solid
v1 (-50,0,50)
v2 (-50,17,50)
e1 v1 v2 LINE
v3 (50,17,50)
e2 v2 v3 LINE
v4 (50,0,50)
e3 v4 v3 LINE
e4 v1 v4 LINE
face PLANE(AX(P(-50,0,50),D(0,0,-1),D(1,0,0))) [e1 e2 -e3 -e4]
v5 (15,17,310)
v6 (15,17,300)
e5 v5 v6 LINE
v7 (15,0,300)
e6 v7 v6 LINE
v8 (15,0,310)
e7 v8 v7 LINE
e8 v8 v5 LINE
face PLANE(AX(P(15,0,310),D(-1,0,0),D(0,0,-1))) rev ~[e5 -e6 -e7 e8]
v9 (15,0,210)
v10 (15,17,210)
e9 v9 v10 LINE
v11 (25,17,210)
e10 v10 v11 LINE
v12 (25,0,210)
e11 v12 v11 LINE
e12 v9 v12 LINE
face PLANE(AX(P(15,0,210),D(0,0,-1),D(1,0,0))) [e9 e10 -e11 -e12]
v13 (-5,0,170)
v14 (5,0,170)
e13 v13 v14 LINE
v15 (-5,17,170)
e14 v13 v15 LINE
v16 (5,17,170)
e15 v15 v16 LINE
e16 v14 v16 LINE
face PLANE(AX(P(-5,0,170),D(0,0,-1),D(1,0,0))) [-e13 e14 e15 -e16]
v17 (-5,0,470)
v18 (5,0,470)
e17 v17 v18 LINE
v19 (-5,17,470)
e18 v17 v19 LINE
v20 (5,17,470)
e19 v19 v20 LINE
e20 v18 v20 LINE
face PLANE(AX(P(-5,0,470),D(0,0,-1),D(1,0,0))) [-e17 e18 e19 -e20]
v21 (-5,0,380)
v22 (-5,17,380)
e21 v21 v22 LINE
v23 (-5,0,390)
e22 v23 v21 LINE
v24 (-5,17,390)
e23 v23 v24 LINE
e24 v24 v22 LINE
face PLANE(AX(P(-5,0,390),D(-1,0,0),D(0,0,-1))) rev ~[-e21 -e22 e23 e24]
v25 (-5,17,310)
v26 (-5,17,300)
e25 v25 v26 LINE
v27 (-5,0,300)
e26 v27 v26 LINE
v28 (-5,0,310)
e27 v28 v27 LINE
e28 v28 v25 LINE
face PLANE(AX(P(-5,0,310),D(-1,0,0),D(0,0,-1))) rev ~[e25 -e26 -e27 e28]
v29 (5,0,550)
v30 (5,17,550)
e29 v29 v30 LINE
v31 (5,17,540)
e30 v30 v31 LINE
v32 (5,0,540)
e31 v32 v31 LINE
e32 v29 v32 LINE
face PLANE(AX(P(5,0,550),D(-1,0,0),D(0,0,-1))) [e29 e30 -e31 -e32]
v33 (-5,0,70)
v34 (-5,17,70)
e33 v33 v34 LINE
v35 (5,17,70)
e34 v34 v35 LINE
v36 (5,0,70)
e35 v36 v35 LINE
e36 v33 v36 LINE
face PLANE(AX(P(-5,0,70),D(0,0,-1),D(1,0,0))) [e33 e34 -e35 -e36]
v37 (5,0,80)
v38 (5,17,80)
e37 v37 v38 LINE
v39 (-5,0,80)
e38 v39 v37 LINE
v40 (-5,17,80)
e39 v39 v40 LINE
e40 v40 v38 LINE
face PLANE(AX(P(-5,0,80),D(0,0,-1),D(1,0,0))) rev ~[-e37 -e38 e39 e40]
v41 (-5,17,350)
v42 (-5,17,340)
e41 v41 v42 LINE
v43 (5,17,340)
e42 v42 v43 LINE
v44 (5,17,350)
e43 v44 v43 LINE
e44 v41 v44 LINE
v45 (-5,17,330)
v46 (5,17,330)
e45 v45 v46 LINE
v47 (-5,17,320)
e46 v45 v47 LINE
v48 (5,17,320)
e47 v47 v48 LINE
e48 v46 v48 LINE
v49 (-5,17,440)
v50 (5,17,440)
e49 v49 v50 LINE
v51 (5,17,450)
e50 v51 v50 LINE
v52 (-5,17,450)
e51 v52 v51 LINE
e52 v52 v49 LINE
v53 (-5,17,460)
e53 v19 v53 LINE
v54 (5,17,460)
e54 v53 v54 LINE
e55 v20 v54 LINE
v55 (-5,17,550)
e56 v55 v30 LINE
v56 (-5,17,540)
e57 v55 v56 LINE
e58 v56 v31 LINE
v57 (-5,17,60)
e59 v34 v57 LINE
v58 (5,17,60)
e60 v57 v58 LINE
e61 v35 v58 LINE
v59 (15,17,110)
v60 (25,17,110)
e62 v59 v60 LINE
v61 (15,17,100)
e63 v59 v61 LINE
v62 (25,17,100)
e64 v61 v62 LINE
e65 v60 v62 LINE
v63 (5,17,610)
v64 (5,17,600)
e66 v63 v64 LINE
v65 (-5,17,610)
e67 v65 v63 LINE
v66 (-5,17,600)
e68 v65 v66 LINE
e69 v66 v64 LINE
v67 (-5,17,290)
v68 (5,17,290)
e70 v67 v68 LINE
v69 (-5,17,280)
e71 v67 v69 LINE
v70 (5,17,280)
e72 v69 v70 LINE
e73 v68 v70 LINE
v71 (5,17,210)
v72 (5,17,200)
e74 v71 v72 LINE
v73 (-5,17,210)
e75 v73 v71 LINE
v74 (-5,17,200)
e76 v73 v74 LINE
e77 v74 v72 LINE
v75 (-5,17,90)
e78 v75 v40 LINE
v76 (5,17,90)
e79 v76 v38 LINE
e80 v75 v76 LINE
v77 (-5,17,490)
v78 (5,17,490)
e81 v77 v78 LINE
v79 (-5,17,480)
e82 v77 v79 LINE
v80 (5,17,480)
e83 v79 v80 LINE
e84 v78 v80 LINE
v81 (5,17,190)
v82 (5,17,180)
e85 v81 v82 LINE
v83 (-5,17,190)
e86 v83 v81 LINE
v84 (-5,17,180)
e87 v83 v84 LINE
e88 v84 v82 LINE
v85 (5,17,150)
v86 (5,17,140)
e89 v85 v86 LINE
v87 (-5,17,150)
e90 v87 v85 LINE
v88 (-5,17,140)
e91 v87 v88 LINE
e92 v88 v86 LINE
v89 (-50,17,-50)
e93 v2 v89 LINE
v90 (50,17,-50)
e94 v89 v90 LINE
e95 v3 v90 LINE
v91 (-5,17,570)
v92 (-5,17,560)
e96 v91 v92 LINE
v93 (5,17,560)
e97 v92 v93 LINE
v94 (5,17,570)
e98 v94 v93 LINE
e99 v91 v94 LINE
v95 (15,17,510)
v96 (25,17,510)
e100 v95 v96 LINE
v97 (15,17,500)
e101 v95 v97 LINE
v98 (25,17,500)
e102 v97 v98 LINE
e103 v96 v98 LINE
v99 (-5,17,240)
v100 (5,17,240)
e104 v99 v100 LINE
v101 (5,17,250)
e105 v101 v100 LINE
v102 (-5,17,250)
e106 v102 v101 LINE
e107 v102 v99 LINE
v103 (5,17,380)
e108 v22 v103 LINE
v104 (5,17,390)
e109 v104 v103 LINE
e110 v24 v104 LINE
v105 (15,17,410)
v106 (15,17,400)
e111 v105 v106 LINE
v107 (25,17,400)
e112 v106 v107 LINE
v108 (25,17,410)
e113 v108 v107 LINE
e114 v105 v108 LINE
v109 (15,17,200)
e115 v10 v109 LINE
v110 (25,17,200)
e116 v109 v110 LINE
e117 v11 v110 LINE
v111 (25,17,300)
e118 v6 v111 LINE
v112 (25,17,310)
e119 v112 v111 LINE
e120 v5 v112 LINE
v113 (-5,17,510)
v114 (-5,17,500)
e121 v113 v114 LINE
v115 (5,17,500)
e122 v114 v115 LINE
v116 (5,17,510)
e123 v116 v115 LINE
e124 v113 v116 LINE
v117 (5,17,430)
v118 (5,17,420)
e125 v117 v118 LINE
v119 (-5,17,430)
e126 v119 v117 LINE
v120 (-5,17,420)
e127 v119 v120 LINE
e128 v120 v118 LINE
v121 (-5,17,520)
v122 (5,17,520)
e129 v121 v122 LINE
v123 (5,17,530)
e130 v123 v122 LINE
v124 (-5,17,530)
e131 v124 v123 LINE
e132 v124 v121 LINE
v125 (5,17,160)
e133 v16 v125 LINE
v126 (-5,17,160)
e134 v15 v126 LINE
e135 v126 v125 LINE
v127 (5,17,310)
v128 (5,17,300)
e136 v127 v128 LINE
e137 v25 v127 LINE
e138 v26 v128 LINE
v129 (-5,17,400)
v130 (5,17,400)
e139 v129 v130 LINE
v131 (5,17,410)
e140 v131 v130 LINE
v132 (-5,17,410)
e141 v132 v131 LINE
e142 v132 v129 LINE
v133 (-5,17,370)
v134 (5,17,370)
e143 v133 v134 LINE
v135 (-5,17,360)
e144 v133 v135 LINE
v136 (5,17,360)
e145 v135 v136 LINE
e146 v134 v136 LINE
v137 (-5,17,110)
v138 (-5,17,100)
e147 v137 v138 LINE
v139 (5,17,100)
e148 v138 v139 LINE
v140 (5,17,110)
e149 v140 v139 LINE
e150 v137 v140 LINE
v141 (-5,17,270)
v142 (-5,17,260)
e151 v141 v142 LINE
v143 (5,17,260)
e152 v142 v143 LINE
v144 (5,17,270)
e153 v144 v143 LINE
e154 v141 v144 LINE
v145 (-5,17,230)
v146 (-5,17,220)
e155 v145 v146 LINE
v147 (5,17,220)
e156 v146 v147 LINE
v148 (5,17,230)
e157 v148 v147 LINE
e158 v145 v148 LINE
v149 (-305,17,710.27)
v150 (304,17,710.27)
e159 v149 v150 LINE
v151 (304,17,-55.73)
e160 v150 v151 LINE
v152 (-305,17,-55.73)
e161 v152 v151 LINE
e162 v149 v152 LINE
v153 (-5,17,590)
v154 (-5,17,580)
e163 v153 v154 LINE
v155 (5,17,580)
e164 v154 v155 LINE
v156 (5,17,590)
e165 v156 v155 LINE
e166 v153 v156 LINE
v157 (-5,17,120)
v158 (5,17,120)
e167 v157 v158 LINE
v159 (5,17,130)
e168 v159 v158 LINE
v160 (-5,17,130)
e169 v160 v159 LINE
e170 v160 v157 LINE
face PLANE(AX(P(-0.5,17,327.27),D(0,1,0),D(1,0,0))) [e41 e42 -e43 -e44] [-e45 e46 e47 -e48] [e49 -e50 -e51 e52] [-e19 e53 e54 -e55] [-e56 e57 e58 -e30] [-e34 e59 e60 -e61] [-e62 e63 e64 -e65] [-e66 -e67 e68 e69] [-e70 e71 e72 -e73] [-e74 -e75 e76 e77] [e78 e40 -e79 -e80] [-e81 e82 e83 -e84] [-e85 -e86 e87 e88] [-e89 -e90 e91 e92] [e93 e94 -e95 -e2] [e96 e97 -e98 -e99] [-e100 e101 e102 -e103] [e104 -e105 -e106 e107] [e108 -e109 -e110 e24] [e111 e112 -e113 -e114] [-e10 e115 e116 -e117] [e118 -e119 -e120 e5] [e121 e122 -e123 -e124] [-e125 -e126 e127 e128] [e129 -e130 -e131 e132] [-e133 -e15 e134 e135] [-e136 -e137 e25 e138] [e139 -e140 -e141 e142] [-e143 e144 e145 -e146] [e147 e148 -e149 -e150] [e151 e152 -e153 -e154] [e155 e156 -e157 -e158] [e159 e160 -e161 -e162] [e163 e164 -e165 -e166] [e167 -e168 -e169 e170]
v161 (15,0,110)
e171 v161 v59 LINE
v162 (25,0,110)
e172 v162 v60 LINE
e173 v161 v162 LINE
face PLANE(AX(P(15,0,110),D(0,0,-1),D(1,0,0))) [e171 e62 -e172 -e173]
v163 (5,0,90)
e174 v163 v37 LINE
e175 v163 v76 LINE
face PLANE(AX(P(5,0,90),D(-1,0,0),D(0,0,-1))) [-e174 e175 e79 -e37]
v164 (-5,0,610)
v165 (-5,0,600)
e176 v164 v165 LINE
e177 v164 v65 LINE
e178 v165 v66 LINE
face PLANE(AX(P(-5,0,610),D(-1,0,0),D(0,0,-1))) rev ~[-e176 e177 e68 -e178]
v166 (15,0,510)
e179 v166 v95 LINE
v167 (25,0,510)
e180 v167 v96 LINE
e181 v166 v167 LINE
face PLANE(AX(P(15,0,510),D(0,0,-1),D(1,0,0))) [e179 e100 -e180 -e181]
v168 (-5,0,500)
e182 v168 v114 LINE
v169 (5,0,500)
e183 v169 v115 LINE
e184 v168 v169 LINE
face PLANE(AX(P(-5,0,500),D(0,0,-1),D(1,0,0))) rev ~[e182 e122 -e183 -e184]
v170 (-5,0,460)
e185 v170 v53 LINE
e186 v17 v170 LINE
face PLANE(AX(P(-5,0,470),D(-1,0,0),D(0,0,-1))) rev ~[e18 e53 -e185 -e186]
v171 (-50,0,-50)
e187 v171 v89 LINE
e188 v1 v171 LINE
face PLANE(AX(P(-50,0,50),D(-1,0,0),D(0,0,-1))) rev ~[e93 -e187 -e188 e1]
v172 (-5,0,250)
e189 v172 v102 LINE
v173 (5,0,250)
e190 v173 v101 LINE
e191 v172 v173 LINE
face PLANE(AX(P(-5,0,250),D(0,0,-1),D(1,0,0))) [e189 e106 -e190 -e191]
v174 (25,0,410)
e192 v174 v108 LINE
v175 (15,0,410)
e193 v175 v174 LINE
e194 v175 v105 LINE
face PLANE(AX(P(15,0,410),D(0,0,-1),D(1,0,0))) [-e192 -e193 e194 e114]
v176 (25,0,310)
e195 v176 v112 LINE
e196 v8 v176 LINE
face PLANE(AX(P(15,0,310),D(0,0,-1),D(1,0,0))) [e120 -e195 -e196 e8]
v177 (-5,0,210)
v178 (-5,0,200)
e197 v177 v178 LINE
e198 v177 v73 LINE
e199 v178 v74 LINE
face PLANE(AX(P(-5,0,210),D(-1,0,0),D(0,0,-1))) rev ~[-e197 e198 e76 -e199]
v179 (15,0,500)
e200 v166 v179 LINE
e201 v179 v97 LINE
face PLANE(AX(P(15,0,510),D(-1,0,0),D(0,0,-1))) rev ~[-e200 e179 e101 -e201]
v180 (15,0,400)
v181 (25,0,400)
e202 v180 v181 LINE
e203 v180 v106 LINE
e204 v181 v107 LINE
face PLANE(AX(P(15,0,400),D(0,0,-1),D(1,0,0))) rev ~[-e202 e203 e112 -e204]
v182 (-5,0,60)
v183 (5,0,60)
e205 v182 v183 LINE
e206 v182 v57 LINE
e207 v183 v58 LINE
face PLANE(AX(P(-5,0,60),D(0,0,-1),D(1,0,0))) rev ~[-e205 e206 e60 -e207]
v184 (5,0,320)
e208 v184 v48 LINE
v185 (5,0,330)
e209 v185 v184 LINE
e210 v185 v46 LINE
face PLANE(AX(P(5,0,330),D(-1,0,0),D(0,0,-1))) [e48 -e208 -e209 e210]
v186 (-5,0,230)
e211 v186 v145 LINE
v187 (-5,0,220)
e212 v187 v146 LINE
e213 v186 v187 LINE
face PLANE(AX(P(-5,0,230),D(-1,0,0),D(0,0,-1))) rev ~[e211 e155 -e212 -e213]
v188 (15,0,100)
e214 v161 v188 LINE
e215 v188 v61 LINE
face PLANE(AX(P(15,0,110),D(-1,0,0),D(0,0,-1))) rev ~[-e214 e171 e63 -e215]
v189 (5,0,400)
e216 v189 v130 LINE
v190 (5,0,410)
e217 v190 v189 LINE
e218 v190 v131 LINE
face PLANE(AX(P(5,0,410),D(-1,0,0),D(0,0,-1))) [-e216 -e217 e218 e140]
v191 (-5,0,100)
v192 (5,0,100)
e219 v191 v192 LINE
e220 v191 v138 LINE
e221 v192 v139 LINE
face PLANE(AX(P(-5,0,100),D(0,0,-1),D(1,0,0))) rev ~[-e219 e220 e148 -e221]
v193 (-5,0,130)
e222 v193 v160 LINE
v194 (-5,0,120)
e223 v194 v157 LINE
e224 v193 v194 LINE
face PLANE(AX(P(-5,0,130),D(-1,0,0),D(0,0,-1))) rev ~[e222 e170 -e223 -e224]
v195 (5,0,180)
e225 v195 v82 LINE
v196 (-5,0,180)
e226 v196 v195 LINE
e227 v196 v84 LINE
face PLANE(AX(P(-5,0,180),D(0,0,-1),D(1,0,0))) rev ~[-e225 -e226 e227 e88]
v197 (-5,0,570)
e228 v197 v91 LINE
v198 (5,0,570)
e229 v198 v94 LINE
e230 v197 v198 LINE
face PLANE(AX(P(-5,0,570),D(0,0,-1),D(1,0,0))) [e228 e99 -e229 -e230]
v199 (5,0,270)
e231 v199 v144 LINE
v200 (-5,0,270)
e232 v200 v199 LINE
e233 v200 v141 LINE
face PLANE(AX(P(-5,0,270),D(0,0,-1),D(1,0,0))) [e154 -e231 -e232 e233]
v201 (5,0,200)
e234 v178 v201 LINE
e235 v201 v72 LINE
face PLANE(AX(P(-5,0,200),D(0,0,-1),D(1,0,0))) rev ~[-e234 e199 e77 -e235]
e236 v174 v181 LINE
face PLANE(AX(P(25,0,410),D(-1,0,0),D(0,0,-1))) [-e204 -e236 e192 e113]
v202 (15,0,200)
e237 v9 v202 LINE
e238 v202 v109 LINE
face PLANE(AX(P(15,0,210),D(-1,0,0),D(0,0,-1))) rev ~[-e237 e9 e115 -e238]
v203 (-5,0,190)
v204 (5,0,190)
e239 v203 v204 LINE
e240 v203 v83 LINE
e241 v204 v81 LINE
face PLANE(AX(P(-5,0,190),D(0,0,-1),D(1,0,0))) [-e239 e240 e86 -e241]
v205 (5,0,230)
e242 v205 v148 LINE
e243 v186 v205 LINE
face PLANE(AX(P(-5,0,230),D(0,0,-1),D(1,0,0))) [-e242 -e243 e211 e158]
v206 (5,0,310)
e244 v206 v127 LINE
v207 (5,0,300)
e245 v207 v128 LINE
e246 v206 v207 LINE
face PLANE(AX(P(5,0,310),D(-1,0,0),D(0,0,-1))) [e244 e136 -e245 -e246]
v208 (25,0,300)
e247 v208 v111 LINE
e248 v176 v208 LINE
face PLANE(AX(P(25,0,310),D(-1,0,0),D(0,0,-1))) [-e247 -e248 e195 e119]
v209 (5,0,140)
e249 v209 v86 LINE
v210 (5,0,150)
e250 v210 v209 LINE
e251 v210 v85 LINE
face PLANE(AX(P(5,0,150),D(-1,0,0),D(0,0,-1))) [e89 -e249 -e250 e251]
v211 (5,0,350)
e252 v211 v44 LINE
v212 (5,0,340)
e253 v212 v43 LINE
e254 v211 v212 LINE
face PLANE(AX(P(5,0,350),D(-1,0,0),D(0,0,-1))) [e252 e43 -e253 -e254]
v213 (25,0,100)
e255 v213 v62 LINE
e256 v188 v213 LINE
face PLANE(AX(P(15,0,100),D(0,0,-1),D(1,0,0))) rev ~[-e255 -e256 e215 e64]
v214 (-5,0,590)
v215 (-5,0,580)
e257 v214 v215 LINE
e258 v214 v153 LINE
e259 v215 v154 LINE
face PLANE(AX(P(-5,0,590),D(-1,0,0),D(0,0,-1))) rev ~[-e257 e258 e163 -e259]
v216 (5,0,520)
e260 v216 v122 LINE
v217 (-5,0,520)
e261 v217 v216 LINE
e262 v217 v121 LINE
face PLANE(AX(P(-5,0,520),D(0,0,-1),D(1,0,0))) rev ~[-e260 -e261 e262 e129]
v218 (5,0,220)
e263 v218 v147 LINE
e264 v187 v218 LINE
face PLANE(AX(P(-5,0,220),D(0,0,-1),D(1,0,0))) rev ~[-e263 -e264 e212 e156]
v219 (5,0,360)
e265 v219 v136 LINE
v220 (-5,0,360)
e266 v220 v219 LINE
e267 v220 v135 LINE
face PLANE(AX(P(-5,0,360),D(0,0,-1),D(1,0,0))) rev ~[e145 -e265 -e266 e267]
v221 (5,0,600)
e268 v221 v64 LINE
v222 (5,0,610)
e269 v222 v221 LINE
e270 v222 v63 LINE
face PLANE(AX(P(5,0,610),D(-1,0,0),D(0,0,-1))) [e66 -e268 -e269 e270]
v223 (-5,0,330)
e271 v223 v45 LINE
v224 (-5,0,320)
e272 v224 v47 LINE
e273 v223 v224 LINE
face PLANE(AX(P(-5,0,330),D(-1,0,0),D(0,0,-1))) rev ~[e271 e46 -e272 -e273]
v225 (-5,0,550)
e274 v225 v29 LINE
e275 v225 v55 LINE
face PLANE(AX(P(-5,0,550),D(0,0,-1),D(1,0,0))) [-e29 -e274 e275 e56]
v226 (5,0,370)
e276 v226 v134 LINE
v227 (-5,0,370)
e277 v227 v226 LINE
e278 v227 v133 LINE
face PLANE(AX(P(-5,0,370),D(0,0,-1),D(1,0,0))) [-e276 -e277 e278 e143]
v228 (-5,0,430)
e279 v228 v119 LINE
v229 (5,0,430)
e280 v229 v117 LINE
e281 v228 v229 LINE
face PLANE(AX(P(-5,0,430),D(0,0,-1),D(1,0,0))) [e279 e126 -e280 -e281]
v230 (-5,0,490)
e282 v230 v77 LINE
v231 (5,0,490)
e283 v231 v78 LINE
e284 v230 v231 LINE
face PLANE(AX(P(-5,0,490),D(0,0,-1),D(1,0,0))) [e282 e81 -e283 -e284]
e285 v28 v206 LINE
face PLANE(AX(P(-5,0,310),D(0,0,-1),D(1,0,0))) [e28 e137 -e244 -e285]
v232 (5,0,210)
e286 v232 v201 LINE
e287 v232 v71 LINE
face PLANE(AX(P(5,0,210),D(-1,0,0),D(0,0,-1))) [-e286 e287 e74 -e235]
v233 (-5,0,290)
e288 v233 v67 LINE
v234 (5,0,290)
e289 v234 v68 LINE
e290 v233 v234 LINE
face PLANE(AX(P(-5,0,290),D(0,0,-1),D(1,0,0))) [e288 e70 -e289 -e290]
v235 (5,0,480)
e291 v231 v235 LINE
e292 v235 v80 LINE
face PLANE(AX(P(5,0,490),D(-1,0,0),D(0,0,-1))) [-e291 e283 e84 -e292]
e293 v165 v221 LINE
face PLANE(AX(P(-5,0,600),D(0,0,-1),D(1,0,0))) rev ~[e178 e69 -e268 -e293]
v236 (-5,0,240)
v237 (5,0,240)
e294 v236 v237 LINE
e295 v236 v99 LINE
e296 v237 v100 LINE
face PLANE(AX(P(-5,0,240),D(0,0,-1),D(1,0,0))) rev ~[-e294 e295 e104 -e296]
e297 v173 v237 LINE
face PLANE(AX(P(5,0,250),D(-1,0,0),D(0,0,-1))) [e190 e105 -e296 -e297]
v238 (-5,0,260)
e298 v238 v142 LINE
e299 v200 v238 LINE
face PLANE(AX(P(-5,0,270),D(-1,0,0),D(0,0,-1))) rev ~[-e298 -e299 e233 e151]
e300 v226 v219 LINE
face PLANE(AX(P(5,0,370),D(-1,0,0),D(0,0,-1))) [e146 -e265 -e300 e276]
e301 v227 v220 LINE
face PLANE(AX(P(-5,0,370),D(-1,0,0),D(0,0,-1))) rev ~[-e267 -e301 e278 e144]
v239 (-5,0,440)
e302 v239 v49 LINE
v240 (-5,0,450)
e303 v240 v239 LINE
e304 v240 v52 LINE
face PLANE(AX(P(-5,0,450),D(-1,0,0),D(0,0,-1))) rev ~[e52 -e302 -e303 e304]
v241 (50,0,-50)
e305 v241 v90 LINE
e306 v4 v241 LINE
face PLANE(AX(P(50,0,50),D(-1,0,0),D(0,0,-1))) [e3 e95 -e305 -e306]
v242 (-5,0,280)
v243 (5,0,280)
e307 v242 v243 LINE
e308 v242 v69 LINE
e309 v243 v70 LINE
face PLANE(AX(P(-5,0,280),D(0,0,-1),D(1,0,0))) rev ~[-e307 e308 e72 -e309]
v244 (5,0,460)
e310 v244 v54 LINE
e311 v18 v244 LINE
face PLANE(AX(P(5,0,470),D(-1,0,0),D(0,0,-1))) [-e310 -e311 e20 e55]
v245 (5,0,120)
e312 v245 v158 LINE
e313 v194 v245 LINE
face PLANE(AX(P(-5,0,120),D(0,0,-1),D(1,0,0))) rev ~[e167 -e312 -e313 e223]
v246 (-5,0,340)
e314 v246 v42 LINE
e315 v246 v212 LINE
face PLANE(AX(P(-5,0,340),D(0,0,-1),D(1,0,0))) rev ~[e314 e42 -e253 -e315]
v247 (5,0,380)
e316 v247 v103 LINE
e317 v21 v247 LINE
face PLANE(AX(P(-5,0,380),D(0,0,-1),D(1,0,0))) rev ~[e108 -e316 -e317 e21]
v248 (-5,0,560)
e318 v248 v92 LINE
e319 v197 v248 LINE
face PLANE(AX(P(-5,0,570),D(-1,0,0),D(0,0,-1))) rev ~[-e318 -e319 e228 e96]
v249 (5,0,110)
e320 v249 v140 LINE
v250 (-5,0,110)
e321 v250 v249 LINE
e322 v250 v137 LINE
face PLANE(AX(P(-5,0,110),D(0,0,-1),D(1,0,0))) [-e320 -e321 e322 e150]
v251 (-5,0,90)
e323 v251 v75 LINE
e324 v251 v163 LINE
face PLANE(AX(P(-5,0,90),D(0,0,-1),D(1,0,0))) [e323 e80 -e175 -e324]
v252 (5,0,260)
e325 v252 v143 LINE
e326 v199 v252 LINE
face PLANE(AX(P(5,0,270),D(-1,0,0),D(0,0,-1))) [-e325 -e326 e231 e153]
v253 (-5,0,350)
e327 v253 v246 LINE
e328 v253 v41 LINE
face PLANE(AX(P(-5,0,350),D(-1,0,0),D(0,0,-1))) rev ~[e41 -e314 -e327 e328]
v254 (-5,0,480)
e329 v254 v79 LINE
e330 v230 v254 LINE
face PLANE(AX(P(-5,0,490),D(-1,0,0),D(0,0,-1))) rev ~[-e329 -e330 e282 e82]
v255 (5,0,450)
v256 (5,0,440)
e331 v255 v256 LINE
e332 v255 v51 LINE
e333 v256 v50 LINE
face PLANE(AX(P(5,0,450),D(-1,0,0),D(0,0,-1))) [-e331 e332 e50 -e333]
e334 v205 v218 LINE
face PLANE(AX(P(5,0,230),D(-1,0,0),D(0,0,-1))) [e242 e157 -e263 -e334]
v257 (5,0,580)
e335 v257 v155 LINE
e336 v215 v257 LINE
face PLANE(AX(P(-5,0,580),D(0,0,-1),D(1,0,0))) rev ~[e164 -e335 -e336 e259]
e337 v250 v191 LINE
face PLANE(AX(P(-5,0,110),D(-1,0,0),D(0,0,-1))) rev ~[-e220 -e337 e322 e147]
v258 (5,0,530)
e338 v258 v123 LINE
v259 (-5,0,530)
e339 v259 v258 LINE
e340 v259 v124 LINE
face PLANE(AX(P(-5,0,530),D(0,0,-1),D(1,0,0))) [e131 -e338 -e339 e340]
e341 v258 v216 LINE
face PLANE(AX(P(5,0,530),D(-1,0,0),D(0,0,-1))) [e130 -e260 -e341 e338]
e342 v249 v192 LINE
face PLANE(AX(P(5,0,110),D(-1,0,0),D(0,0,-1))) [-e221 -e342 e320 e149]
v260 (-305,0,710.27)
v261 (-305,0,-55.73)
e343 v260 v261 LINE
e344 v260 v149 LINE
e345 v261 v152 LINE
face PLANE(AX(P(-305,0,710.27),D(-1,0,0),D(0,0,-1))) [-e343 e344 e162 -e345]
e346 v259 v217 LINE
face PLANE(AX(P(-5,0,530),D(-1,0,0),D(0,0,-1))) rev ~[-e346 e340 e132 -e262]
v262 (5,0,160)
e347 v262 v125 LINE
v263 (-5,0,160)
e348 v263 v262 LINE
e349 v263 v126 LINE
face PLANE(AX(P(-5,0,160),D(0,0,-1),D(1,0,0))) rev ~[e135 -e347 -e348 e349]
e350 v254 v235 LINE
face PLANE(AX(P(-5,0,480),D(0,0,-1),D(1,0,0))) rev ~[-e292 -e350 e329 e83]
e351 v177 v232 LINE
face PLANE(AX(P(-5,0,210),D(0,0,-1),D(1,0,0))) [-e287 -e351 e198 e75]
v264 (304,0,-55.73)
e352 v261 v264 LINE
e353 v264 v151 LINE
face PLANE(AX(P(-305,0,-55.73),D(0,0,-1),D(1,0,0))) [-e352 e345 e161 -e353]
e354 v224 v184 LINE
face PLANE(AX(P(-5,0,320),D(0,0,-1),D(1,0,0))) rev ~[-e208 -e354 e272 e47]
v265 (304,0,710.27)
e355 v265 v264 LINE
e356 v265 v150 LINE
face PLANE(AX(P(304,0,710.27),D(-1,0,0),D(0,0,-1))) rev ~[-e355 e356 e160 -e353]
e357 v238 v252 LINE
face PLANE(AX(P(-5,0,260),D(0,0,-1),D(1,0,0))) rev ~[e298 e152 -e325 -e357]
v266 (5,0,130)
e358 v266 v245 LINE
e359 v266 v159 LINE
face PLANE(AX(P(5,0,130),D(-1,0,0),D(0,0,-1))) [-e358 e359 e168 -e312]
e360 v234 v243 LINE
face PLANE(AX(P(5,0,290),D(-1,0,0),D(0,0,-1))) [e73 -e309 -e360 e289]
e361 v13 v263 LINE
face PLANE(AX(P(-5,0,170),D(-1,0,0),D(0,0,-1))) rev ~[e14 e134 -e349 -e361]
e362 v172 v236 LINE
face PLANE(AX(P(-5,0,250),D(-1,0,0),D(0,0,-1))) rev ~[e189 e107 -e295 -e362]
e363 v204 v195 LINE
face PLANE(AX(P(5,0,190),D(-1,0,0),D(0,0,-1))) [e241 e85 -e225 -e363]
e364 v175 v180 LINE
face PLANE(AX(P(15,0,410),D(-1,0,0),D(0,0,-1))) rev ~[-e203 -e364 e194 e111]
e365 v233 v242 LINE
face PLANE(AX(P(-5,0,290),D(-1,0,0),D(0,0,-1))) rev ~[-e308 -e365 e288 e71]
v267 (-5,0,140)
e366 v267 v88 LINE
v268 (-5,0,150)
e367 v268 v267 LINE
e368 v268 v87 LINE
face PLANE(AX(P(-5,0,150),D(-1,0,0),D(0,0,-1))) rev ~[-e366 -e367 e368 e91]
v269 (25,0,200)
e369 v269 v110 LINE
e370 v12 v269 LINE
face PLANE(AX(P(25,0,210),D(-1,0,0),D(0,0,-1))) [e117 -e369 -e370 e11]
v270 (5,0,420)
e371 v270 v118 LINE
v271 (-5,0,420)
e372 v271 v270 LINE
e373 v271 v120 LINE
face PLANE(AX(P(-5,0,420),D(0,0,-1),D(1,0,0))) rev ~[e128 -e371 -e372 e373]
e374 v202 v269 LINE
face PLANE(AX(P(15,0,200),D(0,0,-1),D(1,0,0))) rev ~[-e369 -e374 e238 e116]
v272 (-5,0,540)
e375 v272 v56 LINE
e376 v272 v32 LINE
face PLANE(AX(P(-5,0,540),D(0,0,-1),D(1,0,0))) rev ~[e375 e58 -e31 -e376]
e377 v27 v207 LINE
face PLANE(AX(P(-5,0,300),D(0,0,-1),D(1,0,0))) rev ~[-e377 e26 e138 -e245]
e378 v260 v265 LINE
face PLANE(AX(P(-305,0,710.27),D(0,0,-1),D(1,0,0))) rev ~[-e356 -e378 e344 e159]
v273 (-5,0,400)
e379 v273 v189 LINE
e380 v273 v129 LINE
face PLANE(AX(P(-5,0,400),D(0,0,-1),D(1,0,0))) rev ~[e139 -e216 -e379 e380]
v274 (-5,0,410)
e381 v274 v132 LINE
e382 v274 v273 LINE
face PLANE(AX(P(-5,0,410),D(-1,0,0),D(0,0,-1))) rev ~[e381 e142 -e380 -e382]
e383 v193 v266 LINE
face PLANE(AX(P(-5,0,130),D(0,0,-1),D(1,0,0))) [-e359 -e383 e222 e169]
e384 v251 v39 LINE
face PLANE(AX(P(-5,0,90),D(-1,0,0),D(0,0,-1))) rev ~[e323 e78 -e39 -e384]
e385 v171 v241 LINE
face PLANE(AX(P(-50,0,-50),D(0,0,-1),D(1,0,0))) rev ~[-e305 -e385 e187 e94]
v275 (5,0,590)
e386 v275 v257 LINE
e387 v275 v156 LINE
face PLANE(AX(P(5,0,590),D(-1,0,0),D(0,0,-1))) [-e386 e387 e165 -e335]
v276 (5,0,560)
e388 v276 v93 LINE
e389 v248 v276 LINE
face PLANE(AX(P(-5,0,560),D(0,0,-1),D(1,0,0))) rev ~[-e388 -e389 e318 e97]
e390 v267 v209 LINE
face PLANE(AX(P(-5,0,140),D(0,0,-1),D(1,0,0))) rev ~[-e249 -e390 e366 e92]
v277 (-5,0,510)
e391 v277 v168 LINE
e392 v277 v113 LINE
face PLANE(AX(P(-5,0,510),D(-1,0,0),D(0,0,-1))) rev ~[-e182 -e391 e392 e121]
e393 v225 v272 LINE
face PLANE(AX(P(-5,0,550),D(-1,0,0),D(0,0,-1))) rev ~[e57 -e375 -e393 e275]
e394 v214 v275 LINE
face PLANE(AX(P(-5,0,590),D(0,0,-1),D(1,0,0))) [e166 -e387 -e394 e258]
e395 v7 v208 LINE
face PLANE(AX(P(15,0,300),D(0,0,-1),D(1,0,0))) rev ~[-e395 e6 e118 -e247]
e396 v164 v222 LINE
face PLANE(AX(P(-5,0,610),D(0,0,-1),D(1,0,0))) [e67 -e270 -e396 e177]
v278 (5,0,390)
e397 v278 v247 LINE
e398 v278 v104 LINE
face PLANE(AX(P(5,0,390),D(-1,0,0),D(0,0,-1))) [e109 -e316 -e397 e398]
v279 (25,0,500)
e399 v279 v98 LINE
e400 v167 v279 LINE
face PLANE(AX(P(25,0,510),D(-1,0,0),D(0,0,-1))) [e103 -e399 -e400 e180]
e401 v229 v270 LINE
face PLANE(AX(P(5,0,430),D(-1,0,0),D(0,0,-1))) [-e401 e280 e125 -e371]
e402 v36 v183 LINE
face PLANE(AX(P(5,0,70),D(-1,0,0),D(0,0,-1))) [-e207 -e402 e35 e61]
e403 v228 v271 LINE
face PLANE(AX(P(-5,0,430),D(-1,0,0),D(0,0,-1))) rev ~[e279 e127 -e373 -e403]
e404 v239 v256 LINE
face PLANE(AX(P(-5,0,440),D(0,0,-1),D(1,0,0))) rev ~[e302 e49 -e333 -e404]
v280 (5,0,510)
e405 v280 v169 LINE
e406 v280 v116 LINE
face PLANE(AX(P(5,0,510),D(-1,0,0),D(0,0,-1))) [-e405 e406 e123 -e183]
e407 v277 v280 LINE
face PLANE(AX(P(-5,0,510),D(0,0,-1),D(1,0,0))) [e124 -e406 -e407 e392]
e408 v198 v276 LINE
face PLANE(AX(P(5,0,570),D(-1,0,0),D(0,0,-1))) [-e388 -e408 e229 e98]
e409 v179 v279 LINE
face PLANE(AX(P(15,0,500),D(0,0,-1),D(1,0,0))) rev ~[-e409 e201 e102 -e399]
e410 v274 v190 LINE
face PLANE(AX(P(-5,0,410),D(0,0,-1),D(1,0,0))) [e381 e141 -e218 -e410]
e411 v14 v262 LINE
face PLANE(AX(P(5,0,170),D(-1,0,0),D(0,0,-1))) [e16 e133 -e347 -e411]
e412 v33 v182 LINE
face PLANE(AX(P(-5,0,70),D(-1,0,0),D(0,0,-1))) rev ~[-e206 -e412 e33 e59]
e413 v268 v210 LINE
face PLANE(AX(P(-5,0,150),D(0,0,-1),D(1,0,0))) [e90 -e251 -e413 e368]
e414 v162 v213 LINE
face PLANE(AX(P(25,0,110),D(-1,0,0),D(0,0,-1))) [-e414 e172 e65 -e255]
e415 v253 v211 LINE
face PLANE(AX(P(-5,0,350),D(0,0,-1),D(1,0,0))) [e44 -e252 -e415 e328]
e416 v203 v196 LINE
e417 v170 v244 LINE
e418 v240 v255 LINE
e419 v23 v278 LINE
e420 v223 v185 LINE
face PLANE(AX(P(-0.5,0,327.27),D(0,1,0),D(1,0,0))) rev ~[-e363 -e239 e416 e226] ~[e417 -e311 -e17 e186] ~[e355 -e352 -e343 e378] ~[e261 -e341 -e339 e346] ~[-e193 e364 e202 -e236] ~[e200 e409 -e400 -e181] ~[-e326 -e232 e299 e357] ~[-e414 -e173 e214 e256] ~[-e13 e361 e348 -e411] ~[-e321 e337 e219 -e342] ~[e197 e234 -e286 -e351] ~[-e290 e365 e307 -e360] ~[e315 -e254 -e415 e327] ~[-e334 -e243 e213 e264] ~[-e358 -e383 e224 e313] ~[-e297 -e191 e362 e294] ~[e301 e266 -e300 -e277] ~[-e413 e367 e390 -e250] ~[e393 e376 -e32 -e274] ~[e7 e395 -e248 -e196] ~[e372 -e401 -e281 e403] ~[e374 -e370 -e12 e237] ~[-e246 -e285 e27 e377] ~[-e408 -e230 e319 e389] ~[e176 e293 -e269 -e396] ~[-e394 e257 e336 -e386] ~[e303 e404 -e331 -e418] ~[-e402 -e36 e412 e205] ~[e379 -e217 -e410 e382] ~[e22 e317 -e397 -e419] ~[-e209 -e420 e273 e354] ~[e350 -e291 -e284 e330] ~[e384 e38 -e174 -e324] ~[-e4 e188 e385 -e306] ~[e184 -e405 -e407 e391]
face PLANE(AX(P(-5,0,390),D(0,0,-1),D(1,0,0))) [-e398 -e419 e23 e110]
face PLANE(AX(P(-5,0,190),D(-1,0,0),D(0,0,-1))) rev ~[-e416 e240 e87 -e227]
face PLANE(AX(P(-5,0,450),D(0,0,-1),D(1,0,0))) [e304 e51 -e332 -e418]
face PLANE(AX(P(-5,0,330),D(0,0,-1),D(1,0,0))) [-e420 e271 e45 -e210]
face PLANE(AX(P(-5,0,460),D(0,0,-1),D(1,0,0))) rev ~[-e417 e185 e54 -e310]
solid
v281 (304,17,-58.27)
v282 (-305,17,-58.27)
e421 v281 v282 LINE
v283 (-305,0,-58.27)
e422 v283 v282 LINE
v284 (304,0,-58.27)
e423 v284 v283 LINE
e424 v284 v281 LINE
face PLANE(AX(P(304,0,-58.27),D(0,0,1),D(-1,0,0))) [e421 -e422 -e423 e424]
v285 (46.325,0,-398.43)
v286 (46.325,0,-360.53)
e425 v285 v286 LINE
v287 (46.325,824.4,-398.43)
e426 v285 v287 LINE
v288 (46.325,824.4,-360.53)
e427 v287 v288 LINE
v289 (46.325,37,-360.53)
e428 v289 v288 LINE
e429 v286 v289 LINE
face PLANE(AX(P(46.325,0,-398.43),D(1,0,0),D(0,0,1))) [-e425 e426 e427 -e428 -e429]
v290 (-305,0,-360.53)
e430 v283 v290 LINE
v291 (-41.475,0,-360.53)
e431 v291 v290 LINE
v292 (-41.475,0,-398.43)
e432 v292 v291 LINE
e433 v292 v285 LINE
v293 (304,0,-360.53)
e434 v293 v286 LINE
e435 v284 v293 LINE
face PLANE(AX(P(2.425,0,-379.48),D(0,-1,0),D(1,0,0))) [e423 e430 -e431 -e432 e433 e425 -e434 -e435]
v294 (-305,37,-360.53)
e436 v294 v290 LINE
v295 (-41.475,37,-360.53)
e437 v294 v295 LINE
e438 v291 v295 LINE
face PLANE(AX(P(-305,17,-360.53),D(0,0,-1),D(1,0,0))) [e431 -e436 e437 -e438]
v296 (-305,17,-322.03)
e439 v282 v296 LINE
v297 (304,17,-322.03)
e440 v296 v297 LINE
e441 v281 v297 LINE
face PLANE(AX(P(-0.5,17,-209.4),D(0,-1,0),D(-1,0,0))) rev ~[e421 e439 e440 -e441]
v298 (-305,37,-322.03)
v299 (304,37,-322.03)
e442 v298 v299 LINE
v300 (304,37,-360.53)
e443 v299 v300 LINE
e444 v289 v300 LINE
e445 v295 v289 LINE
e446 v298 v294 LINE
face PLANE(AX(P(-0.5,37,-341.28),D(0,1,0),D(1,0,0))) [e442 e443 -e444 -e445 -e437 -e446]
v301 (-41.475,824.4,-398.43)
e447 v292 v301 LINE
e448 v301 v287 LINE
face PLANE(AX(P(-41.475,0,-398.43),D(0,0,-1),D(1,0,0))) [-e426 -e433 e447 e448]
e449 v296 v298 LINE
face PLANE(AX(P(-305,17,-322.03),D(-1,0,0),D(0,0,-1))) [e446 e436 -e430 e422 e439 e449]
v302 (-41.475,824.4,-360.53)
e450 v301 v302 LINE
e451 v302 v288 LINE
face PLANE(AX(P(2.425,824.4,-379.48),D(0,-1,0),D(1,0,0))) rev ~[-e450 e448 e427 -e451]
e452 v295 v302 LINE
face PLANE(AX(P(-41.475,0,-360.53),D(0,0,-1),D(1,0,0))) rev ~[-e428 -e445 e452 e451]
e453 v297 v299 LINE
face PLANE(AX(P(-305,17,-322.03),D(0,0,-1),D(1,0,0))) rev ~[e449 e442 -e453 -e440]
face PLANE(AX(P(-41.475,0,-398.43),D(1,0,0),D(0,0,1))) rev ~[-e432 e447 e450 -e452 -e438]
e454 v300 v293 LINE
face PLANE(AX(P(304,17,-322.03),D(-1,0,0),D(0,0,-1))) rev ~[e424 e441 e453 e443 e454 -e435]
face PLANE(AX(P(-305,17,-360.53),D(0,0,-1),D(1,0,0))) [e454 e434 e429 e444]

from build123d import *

# Parameters (mm, degrees)
SKETCH1_W           = 609
SKETCH1_H           = 766
SKETCH1_W_2         = 10
SKETCH1_H_2         = 10
SKETCH1_W_3         = 100
SKETCH1_H_3         = 100
BOSS_EXTRUDE1_DEPTH = 17
SKETCH2_W           = 609
SKETCH2_H           = 302.26
BOSS_EXTRUDE2_DEPTH = 17
SKETCH3_W           = 609
SKETCH3_H           = 38.5
BOSS_EXTRUDE3_DEPTH = 20
SKETCH4_W           = 87.8
SKETCH4_H           = 37.9
BOSS_EXTRUDE4_DEPTH = 824.4


with BuildPart() as part:
    # Sketch1 → Boss-Extrude1 (new body)
    with BuildSketch(Plane(origin=(0, 0, 0), x_dir=(1, 0, 0), z_dir=(0, 1, 0))):
        with Locations((-0.5, -327.27)):
            Rectangle(SKETCH1_W, SKETCH1_H)
        with Locations((0, -85)):
            Rectangle(SKETCH1_W_2, SKETCH1_H_2, mode=Mode.SUBTRACT)
        Rectangle(SKETCH1_W_3, SKETCH1_H_3, mode=Mode.SUBTRACT)
        with Locations((0, -65)):
            Rectangle(SKETCH1_W_2, SKETCH1_H_2, mode=Mode.SUBTRACT)
        with Locations((0, -105)):
            Rectangle(SKETCH1_W_2, SKETCH1_H_2, mode=Mode.SUBTRACT)
        with Locations((0, -125)):
            Rectangle(SKETCH1_W_2, SKETCH1_H_2, mode=Mode.SUBTRACT)
        with Locations((0, -145)):
            Rectangle(SKETCH1_W_2, SKETCH1_H_2, mode=Mode.SUBTRACT)
        with Locations((0, -165)):
            Rectangle(SKETCH1_W_2, SKETCH1_H_2, mode=Mode.SUBTRACT)
        with Locations((0, -185)):
            Rectangle(SKETCH1_W_2, SKETCH1_H_2, mode=Mode.SUBTRACT)
        with Locations((0, -205)):
            Rectangle(SKETCH1_W_2, SKETCH1_H_2, mode=Mode.SUBTRACT)
        with Locations((0, -225)):
            Rectangle(SKETCH1_W_2, SKETCH1_H_2, mode=Mode.SUBTRACT)
        with Locations((0, -245)):
            Rectangle(SKETCH1_W_2, SKETCH1_H_2, mode=Mode.SUBTRACT)
        with Locations((0, -265)):
            Rectangle(SKETCH1_W_2, SKETCH1_H_2, mode=Mode.SUBTRACT)
        with Locations((0, -285)):
            Rectangle(SKETCH1_W_2, SKETCH1_H_2, mode=Mode.SUBTRACT)
        with Locations((0, -305)):
            Rectangle(SKETCH1_W_2, SKETCH1_H_2, mode=Mode.SUBTRACT)
        with Locations((0, -325)):
            Rectangle(SKETCH1_W_2, SKETCH1_H_2, mode=Mode.SUBTRACT)
        with Locations((0, -345)):
            Rectangle(SKETCH1_W_2, SKETCH1_H_2, mode=Mode.SUBTRACT)
        with Locations((0, -365)):
            Rectangle(SKETCH1_W_2, SKETCH1_H_2, mode=Mode.SUBTRACT)
        with Locations((0, -385)):
            Rectangle(SKETCH1_W_2, SKETCH1_H_2, mode=Mode.SUBTRACT)
        with Locations((0, -405)):
            Rectangle(SKETCH1_W_2, SKETCH1_H_2, mode=Mode.SUBTRACT)
        with Locations((0, -425)):
            Rectangle(SKETCH1_W_2, SKETCH1_H_2, mode=Mode.SUBTRACT)
        with Locations((0, -445)):
            Rectangle(SKETCH1_W_2, SKETCH1_H_2, mode=Mode.SUBTRACT)
        with Locations((0, -465)):
            Rectangle(SKETCH1_W_2, SKETCH1_H_2, mode=Mode.SUBTRACT)
        with Locations((0, -485)):
            Rectangle(SKETCH1_W_2, SKETCH1_H_2, mode=Mode.SUBTRACT)
        with Locations((0, -505)):
            Rectangle(SKETCH1_W_2, SKETCH1_H_2, mode=Mode.SUBTRACT)
        with Locations((0, -525)):
            Rectangle(SKETCH1_W_2, SKETCH1_H_2, mode=Mode.SUBTRACT)
        with Locations((0, -545)):
            Rectangle(SKETCH1_W_2, SKETCH1_H_2, mode=Mode.SUBTRACT)
        with Locations((0, -565)):
            Rectangle(SKETCH1_W_2, SKETCH1_H_2, mode=Mode.SUBTRACT)
        with Locations((0, -585)):
            Rectangle(SKETCH1_W_2, SKETCH1_H_2, mode=Mode.SUBTRACT)
        with Locations((0, -605)):
            Rectangle(SKETCH1_W_2, SKETCH1_H_2, mode=Mode.SUBTRACT)
        with Locations((20, -105)):
            Rectangle(SKETCH1_W_2, SKETCH1_H_2, mode=Mode.SUBTRACT)
        with Locations((20, -205)):
            Rectangle(SKETCH1_W_2, SKETCH1_H_2, mode=Mode.SUBTRACT)
        with Locations((20, -305)):
            Rectangle(SKETCH1_W_2, SKETCH1_H_2, mode=Mode.SUBTRACT)
        with Locations((20, -405)):
            Rectangle(SKETCH1_W_2, SKETCH1_H_2, mode=Mode.SUBTRACT)
        with Locations((20, -505)):
            Rectangle(SKETCH1_W_2, SKETCH1_H_2, mode=Mode.SUBTRACT)
    extrude(amount=BOSS_EXTRUDE1_DEPTH)


with BuildPart() as body_2:
    # Sketch2 → Boss-Extrude2 (new body)
    with BuildSketch(Plane(origin=(0, 0, 0), x_dir=(-1, 0, 0), z_dir=(0, -1, 0))):
        with Locations((0.5, 209.4)):
            Rectangle(SKETCH2_W, SKETCH2_H)
    extrude(amount=-BOSS_EXTRUDE2_DEPTH)

    # Sketch3 → Boss-Extrude3 (add)
    with BuildSketch(Plane(origin=(0, 17, 0), x_dir=(1, 0, 0), z_dir=(0, 1, 0))):
        with Locations((-0.5, 341.28)):
            Rectangle(SKETCH3_W, SKETCH3_H)
    extrude(amount=BOSS_EXTRUDE3_DEPTH)

    # Sketch4 → Boss-Extrude4 (add)
    with BuildSketch(Plane.XZ):
        with Locations((2.425, -379.48)):
            Rectangle(SKETCH4_W, SKETCH4_H)
    extrude(amount=-BOSS_EXTRUDE4_DEPTH)


solid = Compound([part.part, body_2.part])
